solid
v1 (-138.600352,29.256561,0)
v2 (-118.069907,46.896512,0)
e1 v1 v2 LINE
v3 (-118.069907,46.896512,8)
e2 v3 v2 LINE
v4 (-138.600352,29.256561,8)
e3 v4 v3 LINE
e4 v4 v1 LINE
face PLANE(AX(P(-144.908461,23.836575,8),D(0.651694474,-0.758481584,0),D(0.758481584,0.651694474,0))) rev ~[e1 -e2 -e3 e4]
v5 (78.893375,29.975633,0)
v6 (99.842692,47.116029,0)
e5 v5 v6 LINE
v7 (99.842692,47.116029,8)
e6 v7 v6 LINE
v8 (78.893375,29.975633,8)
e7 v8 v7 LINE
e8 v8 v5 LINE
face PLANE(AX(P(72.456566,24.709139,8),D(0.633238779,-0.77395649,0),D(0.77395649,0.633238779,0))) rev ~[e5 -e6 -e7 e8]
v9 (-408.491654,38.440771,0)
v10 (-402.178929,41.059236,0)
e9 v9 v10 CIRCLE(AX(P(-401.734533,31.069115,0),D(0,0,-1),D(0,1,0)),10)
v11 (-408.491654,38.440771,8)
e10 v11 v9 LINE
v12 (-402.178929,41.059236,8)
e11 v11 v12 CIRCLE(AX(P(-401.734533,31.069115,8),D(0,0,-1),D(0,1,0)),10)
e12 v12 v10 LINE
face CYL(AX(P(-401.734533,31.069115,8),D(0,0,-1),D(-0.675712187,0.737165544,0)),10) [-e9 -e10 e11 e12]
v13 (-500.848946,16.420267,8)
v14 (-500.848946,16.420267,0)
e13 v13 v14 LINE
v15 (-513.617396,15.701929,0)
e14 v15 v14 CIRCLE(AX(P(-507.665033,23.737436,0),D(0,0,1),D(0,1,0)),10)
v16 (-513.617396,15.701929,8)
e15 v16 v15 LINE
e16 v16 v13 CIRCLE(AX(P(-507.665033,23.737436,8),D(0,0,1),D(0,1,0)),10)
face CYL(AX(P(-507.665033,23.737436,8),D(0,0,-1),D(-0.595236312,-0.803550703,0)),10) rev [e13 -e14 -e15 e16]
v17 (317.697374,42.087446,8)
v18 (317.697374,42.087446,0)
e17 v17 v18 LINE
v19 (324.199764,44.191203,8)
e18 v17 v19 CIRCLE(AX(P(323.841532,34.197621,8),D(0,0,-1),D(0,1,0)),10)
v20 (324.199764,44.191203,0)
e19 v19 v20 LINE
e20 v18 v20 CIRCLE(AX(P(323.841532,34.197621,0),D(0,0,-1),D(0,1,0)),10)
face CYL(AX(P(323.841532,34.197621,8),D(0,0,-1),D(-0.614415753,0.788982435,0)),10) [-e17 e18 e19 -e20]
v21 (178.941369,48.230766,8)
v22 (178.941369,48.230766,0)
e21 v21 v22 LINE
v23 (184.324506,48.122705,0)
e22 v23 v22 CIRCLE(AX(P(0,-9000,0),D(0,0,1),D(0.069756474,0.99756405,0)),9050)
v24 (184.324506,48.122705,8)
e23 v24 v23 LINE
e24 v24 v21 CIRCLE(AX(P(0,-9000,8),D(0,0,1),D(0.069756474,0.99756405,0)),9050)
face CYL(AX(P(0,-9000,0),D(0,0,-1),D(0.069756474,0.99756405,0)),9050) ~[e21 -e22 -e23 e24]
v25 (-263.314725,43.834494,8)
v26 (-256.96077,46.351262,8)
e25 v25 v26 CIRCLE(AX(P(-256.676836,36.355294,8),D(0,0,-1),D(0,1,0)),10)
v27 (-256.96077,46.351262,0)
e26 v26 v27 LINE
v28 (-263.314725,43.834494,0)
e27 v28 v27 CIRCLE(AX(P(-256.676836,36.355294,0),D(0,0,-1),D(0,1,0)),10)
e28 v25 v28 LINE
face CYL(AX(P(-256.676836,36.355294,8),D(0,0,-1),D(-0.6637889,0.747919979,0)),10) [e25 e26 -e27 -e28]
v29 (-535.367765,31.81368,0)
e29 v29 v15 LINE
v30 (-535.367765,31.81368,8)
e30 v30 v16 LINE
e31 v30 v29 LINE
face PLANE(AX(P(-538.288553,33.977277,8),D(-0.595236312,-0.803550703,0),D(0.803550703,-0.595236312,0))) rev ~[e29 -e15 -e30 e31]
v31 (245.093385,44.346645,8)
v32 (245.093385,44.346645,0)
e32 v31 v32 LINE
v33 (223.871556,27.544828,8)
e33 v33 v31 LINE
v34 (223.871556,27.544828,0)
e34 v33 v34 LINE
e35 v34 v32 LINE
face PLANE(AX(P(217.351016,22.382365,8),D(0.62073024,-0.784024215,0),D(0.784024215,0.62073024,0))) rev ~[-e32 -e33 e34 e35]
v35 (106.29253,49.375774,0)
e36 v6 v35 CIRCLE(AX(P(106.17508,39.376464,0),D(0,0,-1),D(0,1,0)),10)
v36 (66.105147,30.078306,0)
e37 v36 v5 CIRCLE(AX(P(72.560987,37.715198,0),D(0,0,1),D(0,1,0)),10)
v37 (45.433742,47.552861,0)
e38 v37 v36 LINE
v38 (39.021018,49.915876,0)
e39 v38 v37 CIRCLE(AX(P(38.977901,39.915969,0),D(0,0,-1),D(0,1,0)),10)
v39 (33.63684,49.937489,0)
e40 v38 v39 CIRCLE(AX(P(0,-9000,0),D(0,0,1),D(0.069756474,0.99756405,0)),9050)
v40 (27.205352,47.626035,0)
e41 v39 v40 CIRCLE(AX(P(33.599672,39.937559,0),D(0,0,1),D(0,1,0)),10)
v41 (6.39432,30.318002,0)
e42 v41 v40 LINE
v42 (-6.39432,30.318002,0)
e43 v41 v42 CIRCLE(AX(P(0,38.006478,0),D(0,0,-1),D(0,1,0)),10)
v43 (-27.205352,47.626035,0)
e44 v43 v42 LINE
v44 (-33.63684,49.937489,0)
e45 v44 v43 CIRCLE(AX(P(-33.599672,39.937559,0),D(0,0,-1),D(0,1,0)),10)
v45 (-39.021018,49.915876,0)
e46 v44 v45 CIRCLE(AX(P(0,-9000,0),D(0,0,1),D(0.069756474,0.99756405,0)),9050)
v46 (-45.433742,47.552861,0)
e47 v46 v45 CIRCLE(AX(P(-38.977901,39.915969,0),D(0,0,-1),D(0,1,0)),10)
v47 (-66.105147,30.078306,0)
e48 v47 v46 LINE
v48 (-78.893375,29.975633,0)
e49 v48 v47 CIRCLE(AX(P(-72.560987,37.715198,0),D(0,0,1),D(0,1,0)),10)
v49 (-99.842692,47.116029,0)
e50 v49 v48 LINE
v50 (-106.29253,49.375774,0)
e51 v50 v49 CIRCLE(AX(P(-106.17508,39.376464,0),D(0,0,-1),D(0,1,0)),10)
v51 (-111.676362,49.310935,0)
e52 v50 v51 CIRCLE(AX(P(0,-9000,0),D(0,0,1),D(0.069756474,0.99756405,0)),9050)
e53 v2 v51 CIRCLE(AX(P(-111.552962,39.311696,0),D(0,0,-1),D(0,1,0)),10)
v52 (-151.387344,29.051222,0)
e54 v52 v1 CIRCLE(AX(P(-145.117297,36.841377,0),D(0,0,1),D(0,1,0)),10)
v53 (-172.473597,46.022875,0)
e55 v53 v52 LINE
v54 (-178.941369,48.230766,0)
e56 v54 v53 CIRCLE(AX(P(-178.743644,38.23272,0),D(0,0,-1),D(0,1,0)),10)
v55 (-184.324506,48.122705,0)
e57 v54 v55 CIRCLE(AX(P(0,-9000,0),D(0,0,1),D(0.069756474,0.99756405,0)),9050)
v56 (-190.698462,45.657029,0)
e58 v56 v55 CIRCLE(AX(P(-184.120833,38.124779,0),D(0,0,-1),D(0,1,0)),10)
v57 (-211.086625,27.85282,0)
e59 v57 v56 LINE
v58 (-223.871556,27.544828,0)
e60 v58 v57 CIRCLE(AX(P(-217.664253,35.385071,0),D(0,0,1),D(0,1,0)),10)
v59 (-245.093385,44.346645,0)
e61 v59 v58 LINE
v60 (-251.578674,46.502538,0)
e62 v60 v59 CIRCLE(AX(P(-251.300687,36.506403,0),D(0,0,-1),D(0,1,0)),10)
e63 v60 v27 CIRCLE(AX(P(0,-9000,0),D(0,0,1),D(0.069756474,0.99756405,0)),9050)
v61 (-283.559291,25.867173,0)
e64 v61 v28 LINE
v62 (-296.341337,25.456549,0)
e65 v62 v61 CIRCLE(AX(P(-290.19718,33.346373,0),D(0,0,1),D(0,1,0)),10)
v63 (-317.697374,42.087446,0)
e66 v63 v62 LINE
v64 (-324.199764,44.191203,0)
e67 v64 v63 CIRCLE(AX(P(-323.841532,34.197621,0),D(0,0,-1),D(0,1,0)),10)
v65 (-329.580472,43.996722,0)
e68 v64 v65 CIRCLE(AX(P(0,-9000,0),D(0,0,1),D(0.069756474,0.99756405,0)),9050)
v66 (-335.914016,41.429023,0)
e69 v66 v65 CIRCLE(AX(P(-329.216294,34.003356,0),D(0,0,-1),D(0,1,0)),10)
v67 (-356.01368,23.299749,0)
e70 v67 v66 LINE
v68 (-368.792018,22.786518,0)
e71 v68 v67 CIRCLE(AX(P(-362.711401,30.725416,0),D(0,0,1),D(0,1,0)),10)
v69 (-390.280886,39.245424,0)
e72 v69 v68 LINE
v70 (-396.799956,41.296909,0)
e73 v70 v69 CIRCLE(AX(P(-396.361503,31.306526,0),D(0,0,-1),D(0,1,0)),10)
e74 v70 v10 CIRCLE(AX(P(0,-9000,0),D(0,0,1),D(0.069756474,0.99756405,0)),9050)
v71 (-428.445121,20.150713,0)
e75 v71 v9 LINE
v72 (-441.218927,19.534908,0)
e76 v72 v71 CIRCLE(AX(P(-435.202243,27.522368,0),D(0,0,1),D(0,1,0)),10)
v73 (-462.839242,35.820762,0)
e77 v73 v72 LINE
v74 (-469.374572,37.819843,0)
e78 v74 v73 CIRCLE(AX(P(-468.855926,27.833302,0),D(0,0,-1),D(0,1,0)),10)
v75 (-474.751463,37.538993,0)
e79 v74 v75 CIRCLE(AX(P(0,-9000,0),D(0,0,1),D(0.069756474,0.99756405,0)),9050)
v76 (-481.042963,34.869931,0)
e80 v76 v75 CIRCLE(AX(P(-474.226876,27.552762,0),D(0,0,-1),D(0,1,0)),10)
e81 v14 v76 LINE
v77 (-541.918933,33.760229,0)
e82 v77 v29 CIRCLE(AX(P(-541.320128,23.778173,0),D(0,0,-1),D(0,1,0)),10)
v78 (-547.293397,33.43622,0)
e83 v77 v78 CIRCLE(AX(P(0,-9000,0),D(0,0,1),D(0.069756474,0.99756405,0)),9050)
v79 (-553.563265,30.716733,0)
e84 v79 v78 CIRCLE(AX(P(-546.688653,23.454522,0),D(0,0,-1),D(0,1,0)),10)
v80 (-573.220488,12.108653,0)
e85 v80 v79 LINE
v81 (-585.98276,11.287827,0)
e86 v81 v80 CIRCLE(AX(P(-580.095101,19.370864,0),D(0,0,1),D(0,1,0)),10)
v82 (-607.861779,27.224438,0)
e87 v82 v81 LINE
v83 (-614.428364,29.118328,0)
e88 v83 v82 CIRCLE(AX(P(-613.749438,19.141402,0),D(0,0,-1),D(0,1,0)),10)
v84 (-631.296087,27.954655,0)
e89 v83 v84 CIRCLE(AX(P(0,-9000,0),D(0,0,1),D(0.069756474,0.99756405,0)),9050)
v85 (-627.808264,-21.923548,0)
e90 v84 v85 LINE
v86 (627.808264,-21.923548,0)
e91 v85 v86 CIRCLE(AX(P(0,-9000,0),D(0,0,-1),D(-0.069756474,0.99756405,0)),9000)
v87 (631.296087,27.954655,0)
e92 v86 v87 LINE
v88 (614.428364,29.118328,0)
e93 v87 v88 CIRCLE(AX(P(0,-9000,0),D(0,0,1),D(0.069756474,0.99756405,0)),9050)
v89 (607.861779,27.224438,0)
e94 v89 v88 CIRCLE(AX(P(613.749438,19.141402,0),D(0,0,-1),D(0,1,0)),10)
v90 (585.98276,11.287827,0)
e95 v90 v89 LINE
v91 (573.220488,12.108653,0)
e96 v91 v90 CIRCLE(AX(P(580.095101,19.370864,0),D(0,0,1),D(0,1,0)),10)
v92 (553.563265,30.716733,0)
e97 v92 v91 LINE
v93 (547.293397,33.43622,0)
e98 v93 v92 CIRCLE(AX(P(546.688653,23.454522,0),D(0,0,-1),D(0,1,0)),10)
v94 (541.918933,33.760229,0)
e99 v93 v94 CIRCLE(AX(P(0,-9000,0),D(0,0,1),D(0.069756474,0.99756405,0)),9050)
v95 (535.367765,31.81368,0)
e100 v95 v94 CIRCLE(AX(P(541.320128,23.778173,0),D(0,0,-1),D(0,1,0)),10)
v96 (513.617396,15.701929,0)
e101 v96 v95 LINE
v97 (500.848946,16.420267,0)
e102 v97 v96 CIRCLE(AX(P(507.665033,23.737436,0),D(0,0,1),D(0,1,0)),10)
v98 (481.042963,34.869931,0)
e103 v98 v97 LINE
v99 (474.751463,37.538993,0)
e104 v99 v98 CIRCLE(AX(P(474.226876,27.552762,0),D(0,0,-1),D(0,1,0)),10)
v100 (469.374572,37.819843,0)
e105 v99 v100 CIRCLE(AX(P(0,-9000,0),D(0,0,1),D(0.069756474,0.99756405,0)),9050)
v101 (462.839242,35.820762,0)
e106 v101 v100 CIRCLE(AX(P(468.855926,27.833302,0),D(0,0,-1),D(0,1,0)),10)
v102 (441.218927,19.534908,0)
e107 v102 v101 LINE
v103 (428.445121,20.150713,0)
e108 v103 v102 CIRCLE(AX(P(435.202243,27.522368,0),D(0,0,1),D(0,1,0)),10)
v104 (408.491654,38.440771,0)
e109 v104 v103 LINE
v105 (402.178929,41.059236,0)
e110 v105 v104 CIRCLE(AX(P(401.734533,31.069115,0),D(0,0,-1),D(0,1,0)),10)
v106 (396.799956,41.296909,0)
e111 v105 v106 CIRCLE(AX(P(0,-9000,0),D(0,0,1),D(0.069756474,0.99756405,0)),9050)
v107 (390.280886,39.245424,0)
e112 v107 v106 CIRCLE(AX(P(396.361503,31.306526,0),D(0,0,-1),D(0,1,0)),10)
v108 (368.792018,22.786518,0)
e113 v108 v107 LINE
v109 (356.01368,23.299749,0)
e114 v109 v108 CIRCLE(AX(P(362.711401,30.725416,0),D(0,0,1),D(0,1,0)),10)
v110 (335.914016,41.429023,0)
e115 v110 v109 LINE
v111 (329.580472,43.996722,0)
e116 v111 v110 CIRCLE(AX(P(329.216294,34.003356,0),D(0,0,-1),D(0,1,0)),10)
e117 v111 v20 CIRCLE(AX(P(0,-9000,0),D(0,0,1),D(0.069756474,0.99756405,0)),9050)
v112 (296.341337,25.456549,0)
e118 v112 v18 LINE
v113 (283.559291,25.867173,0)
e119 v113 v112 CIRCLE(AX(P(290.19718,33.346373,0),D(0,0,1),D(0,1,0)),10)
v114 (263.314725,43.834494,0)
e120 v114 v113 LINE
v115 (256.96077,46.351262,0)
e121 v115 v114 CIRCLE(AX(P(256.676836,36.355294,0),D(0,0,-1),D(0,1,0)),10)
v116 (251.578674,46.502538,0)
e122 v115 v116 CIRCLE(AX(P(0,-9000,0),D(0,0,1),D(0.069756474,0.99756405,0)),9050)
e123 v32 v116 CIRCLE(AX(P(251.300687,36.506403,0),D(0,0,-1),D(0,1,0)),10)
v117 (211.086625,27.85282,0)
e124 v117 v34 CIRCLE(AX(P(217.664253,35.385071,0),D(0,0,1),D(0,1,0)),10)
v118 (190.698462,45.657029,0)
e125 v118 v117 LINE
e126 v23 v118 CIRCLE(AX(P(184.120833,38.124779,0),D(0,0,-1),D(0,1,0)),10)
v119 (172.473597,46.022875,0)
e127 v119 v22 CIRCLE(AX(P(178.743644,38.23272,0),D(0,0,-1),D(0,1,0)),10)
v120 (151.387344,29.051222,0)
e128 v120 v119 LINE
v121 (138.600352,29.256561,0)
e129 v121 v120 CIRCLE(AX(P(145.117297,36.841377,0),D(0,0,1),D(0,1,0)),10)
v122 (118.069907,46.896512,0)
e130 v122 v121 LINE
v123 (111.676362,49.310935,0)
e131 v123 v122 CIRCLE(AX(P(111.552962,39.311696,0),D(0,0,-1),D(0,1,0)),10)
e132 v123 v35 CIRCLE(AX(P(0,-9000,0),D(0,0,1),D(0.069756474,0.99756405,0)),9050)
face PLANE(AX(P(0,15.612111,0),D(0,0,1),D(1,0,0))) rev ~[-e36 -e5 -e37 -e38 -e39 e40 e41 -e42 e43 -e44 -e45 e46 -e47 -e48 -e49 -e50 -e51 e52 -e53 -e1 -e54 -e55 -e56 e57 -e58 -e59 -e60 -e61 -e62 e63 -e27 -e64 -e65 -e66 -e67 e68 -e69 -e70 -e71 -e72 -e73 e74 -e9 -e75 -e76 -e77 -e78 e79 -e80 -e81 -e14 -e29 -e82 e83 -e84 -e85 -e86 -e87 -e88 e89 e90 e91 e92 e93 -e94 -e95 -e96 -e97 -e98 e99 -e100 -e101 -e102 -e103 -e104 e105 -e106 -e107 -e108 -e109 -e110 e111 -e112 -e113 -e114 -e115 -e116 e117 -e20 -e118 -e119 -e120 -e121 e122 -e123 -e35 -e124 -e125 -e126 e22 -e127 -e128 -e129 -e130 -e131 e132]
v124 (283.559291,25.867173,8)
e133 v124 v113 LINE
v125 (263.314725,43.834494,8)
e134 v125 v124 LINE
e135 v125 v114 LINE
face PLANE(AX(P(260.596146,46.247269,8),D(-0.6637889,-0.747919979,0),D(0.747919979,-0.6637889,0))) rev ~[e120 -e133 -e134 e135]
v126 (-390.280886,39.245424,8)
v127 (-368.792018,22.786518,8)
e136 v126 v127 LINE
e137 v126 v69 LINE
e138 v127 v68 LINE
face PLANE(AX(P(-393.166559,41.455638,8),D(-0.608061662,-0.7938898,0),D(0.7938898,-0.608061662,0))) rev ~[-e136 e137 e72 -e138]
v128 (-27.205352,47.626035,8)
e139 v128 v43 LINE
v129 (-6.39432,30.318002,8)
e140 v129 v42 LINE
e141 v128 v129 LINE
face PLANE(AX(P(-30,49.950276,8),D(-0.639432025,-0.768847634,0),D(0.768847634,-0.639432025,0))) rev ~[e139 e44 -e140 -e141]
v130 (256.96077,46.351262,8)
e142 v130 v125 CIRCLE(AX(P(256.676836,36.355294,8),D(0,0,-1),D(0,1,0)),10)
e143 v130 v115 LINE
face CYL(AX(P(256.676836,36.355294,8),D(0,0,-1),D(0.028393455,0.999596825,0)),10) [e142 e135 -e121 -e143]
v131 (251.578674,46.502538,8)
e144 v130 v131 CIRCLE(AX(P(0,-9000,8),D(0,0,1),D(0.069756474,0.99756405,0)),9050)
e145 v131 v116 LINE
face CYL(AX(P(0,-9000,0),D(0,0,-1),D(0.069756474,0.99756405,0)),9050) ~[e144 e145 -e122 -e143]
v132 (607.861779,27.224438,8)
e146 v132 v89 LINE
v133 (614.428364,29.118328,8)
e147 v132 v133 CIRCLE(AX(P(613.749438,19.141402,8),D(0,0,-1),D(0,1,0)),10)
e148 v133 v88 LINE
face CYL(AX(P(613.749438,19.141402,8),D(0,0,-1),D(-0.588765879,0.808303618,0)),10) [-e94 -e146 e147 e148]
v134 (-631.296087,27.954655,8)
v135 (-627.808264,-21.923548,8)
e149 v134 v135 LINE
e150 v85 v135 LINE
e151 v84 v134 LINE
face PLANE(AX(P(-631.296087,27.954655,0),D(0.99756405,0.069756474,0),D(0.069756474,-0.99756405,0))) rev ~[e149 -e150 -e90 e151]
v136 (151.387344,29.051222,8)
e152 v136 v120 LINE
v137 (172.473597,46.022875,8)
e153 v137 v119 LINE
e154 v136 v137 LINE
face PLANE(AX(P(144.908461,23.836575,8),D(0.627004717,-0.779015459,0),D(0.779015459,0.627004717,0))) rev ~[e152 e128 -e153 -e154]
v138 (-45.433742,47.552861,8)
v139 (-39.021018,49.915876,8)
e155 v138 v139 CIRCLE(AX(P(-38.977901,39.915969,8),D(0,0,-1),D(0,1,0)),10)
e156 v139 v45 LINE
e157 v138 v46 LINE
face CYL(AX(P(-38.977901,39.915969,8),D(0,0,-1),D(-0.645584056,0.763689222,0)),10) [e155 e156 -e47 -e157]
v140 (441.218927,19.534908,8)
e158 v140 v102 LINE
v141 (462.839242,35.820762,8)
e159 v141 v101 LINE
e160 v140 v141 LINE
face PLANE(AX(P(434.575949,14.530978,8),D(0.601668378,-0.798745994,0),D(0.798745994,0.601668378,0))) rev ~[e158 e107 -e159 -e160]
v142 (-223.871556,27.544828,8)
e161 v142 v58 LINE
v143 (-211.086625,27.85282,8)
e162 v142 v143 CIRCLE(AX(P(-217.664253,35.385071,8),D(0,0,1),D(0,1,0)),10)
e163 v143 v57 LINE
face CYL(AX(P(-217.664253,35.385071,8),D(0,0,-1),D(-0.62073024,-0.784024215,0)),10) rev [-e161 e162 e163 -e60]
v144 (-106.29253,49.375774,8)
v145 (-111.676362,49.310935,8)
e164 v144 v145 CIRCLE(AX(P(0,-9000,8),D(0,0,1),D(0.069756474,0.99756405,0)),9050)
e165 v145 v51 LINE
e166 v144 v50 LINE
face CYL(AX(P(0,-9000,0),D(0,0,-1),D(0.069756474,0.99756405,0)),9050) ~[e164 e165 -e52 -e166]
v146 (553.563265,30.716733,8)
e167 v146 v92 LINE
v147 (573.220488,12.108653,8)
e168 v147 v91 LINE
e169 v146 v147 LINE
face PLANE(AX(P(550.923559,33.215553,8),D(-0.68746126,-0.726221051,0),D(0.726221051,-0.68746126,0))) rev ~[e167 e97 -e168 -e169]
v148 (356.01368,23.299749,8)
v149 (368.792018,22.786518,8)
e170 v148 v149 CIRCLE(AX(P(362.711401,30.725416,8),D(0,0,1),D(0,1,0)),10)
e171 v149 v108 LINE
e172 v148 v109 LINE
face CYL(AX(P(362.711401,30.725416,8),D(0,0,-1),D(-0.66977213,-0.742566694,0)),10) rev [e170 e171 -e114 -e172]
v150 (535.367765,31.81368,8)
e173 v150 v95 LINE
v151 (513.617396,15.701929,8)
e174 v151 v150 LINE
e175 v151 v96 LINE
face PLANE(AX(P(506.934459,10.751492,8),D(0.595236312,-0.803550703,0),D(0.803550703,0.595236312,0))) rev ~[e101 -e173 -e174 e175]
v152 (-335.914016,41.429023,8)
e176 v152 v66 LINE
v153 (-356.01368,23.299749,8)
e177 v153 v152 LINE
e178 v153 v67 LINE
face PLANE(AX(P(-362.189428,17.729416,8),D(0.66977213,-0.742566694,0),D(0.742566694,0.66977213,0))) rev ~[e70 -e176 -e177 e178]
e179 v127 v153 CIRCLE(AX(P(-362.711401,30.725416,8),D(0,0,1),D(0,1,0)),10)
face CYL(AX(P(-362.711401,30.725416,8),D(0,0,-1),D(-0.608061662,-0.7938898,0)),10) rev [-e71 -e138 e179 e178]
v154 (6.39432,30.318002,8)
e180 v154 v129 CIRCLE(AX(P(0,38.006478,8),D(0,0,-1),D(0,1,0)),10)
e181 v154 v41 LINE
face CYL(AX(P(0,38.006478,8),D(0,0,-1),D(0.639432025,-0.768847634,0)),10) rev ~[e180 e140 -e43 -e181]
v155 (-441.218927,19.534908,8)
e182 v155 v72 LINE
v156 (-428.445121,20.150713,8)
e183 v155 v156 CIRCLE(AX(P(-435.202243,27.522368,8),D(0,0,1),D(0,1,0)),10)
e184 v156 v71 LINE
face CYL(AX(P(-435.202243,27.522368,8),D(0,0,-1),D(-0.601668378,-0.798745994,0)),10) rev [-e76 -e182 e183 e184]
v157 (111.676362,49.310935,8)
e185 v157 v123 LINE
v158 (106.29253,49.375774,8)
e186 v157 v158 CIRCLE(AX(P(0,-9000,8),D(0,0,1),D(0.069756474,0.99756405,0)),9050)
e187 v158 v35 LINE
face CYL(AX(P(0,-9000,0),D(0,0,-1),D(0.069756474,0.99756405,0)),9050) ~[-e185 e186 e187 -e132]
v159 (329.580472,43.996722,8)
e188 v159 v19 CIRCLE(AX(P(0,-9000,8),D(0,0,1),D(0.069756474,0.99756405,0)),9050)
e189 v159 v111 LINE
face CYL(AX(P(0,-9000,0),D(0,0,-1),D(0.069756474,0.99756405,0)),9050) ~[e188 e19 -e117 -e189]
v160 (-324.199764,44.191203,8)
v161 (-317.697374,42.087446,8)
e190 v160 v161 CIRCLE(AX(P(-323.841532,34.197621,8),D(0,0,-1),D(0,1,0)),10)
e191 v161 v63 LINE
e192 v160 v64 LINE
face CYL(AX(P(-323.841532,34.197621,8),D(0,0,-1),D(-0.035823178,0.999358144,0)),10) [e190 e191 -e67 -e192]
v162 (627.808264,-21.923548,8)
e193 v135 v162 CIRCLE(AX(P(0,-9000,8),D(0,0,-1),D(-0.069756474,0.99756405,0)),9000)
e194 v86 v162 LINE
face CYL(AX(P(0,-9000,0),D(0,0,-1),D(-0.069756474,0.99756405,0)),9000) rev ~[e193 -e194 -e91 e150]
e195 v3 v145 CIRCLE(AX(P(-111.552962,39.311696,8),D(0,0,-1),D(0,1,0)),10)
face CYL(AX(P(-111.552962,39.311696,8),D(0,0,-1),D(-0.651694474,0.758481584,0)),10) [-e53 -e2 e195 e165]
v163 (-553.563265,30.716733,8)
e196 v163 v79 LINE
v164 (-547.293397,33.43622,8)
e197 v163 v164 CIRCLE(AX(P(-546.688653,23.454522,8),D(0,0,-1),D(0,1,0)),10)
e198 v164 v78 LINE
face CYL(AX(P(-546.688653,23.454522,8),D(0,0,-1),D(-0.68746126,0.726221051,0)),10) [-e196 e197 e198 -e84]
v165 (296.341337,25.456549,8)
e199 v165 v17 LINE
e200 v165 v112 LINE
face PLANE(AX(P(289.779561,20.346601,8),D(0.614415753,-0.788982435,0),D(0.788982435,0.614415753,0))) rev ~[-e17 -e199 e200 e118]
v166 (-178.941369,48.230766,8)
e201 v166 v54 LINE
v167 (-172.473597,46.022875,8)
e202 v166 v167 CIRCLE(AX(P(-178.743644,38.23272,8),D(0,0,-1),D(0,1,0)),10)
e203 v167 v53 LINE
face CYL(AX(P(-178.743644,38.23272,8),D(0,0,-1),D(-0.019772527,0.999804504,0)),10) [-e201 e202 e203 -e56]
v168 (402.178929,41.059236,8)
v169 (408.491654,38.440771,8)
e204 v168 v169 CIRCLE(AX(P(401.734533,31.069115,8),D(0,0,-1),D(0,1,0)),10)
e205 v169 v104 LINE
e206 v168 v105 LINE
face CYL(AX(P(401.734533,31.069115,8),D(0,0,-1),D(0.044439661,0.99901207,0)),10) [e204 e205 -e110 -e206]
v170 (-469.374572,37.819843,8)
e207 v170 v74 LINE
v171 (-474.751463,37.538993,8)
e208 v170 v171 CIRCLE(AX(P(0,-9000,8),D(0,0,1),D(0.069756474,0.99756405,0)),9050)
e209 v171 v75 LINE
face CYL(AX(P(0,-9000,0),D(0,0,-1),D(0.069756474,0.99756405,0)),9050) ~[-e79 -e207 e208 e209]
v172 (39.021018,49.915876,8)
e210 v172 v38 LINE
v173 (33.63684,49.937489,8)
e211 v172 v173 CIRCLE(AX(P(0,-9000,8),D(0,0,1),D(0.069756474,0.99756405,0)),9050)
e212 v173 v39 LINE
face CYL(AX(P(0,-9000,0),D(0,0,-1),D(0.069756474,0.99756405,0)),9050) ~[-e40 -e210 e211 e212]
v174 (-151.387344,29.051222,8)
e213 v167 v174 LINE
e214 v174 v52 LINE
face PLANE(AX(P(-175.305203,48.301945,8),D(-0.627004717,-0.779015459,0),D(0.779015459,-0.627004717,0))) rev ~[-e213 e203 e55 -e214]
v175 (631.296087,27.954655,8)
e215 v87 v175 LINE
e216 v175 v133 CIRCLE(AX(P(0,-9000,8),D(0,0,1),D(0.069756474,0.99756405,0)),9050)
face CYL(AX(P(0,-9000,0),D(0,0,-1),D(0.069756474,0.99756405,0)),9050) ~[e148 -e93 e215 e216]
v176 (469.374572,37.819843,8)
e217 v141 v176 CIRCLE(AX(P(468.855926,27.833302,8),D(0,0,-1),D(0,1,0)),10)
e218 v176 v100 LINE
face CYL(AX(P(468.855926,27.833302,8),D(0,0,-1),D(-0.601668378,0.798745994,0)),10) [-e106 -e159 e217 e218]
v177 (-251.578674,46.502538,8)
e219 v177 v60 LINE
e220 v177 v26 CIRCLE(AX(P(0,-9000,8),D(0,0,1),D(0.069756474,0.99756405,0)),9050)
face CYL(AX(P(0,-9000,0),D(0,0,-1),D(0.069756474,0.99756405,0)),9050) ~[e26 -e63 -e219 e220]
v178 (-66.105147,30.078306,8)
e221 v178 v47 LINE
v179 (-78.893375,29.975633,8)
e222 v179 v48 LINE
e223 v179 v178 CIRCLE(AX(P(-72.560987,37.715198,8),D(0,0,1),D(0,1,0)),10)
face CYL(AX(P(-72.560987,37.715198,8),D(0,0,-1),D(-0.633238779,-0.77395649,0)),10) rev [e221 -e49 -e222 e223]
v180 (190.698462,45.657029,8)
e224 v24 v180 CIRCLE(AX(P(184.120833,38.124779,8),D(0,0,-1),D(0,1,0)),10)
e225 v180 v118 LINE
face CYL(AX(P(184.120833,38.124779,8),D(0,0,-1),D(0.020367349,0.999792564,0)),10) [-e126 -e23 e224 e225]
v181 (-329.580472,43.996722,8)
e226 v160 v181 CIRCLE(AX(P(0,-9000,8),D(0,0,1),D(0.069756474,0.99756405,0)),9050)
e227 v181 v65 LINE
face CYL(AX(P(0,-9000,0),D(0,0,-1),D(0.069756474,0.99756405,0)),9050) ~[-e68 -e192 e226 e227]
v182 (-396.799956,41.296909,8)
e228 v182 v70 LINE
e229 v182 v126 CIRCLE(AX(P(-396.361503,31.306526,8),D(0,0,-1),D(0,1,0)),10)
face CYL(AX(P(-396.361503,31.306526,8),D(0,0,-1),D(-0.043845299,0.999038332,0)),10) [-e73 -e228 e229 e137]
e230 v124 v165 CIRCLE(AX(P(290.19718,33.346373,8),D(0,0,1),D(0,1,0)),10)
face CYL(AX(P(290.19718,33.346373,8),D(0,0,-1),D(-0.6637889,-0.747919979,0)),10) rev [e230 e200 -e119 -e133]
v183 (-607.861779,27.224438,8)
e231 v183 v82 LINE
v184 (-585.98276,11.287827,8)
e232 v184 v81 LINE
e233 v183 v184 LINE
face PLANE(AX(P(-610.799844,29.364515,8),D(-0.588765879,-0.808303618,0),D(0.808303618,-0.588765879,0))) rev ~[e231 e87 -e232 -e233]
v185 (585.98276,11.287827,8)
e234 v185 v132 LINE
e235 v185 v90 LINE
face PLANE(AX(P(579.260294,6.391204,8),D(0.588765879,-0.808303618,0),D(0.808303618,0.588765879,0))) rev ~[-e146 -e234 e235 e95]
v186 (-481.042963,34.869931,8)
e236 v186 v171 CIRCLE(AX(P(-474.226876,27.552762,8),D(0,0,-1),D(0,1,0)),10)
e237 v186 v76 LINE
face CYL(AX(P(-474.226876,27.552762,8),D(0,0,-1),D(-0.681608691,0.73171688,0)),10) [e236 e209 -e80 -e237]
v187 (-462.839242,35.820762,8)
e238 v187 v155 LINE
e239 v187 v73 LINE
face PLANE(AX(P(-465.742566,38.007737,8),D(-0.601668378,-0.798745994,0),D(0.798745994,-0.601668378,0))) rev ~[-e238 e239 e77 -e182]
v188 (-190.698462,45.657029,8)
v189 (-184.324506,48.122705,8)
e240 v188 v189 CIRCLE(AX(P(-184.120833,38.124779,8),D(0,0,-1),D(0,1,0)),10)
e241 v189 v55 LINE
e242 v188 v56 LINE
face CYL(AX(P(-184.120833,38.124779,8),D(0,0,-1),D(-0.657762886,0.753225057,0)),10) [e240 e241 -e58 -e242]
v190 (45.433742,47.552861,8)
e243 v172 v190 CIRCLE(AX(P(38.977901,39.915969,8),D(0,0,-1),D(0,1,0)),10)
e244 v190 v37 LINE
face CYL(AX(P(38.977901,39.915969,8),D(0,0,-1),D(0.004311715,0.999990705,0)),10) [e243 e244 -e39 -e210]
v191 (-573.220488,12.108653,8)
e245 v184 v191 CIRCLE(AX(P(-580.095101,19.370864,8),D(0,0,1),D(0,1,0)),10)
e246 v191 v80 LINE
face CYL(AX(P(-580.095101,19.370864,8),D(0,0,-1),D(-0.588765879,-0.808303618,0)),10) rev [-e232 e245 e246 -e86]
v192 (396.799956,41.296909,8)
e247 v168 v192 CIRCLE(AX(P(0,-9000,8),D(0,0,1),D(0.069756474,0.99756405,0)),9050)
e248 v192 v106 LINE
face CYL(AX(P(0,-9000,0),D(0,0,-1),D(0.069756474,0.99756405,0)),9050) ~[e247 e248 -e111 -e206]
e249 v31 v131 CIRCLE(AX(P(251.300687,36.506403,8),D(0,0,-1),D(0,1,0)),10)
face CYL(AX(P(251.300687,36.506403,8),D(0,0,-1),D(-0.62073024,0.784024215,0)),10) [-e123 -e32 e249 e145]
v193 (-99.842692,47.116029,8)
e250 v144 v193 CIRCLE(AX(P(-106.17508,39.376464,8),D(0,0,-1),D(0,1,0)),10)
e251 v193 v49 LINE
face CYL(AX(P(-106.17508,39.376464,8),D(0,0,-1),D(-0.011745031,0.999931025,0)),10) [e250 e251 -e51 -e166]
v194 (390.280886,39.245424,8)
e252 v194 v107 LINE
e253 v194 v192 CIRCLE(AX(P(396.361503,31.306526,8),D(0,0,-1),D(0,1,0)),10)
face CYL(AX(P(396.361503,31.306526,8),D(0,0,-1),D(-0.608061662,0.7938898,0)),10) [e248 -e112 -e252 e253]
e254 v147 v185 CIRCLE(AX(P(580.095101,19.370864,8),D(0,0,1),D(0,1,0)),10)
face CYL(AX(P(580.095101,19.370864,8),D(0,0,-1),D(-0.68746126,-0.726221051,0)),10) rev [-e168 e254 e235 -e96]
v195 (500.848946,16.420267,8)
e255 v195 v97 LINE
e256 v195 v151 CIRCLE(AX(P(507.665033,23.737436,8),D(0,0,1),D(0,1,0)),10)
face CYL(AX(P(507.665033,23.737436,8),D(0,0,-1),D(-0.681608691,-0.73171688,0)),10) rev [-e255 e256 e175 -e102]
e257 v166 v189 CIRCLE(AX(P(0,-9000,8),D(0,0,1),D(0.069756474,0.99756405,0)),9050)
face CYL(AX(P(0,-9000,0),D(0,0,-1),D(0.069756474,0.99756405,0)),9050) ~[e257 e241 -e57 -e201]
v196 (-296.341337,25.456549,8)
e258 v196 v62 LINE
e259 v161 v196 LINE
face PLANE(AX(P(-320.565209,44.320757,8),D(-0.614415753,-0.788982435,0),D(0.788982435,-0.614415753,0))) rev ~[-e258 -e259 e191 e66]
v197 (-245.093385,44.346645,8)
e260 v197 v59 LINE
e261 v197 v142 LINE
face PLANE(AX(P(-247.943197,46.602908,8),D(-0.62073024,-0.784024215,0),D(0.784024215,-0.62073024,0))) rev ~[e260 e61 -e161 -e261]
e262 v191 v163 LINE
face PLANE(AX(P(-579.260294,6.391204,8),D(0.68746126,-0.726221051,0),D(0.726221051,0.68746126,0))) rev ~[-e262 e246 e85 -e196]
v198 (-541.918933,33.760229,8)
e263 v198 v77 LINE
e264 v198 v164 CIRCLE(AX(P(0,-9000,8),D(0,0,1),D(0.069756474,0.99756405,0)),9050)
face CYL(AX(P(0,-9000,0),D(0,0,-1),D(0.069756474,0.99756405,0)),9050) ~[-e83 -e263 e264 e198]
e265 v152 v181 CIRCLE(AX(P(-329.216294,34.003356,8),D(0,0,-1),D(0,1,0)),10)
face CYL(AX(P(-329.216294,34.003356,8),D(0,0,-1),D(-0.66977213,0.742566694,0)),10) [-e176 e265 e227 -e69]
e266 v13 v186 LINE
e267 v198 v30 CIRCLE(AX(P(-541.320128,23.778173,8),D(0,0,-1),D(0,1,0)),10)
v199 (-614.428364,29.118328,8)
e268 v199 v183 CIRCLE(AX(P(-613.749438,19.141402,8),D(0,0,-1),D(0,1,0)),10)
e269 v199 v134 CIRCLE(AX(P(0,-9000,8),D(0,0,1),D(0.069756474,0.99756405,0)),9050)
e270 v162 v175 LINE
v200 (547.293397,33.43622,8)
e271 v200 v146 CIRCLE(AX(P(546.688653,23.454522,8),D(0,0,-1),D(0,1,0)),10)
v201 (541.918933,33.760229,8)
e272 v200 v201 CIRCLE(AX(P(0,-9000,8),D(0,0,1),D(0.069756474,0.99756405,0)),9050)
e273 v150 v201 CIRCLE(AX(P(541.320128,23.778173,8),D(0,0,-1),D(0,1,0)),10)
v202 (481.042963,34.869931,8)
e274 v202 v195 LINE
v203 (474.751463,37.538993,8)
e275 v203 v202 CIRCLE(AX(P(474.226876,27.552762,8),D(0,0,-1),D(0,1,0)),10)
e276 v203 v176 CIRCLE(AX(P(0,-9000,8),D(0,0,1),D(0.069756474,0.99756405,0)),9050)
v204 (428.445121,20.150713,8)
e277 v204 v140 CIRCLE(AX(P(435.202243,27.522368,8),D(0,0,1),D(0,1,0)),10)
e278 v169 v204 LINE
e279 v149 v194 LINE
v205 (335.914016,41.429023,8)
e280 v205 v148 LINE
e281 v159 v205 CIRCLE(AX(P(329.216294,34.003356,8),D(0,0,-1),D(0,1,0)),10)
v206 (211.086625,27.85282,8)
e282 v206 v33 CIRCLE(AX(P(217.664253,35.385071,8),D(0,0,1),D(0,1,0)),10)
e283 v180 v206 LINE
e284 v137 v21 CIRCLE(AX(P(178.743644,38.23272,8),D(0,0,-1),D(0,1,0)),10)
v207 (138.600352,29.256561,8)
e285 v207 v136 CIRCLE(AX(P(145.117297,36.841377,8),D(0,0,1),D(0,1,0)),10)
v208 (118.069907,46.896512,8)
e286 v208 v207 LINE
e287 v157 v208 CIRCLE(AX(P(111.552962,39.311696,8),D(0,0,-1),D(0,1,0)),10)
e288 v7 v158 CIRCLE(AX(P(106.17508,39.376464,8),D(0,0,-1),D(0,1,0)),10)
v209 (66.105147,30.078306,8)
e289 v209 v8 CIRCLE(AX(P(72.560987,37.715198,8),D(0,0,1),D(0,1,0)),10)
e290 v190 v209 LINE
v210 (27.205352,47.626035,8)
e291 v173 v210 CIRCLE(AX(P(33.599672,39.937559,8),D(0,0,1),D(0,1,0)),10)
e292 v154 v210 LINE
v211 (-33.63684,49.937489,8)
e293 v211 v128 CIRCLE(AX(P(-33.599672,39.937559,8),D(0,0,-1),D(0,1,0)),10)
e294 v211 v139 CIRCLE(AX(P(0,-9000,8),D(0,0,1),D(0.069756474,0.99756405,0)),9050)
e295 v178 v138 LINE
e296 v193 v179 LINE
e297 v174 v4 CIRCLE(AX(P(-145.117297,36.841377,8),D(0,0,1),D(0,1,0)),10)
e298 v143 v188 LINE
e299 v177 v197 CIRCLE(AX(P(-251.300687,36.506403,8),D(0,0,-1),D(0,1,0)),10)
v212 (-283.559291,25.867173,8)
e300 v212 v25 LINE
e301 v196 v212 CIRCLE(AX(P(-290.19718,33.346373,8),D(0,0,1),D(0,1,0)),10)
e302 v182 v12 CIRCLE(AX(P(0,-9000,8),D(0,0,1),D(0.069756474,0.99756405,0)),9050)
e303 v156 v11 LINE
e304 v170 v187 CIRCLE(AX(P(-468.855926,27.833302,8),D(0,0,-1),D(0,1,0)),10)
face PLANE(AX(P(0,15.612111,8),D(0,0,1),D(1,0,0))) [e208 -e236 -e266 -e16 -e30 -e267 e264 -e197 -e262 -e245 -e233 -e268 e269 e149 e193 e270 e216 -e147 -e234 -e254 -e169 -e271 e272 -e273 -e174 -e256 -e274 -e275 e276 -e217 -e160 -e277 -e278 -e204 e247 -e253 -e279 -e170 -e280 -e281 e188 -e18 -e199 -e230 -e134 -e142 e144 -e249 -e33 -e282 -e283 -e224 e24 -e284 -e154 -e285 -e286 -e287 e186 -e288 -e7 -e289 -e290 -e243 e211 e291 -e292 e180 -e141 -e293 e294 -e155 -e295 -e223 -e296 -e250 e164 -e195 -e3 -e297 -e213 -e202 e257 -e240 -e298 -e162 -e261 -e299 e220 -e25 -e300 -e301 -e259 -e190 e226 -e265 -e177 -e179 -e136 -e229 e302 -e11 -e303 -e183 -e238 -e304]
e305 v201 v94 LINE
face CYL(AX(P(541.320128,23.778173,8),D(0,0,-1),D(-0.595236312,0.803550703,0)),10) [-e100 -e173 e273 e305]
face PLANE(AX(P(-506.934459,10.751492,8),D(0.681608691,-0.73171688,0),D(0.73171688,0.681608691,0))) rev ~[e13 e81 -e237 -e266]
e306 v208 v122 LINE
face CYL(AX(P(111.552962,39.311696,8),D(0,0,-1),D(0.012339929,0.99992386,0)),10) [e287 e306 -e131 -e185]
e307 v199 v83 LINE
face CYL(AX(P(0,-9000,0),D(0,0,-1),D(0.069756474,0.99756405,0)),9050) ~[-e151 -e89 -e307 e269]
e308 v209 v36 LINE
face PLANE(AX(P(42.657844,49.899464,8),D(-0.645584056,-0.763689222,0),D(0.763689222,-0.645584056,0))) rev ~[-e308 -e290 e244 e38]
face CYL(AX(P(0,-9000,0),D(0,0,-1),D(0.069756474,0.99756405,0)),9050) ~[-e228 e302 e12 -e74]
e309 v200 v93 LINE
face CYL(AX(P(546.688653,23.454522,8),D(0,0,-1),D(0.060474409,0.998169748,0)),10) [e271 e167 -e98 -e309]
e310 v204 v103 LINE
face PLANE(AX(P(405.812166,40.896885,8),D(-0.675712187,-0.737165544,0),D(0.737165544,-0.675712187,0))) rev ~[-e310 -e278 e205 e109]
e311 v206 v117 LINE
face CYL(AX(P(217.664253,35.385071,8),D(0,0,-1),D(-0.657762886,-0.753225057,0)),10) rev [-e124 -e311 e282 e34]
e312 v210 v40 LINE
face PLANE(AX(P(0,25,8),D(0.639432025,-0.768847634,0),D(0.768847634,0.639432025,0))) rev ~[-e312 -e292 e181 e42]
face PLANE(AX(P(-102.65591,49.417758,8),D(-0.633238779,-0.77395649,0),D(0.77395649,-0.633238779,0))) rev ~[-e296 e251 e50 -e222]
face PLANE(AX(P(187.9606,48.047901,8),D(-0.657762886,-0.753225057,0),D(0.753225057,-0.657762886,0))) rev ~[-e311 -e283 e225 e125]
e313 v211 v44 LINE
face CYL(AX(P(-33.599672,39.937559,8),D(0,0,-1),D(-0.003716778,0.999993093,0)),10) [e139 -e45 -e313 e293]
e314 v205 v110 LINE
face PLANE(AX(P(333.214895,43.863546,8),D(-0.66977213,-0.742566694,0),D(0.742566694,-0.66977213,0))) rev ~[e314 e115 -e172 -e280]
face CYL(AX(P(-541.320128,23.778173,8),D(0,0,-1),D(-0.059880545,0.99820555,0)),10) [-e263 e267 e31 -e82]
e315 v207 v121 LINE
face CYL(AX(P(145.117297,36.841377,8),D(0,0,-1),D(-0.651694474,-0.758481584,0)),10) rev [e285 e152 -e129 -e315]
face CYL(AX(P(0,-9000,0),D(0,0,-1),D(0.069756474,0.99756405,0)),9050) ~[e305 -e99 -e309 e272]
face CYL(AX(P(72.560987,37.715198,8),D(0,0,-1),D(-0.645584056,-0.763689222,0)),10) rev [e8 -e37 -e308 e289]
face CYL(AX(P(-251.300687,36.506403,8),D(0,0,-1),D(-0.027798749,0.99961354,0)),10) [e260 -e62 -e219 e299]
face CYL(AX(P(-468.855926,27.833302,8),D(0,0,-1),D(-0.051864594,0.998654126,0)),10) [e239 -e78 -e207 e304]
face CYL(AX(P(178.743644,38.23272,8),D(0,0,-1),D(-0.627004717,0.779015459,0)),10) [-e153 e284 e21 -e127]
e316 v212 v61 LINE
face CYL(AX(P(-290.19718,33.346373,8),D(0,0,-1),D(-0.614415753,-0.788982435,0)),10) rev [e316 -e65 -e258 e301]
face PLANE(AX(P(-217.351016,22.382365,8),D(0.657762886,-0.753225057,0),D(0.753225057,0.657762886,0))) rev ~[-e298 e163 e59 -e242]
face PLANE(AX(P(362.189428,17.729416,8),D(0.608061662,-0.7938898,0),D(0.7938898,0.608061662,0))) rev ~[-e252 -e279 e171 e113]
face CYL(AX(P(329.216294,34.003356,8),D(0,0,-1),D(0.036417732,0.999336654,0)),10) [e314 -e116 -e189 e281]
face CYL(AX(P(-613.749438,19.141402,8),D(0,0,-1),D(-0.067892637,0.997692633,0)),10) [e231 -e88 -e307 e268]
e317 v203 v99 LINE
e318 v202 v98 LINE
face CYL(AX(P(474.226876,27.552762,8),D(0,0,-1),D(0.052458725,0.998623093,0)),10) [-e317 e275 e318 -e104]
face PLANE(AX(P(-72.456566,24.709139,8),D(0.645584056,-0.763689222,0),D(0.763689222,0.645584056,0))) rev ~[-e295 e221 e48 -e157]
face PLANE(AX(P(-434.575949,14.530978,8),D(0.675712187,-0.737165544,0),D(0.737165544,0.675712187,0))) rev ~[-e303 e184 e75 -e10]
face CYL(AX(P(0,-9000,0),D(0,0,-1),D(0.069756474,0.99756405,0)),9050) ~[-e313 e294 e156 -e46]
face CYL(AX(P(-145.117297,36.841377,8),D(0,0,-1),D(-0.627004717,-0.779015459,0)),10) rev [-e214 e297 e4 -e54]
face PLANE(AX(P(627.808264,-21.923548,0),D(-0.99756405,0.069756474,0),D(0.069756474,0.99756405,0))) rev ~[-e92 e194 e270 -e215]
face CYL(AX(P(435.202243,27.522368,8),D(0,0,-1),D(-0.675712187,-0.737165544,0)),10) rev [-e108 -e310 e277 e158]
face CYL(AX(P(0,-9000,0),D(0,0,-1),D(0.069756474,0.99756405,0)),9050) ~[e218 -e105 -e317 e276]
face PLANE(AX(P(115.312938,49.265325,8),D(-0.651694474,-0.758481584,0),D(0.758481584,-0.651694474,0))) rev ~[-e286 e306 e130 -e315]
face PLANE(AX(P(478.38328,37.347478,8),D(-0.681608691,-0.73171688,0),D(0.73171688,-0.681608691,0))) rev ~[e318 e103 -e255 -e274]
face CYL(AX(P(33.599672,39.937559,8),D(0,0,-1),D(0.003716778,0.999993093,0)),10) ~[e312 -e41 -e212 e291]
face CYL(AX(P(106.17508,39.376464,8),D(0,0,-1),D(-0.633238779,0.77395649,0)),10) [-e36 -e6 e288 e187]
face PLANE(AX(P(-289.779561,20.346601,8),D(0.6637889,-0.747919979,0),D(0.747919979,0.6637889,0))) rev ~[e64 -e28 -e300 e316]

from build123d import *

# Parameters (mm, degrees)
BOSS_EXTRU_2_DEPTH                 = 8
ENL_V_MAT_EXTRU_1_DEPTH            = 9
CONG_1_R                           = 10
R_P_TITION_CIRCULAIRE1_COUNT       = 9
R_P_TITION_CIRCULAIRE1_ANGLE       = 3.68
CONG_1_OF_R_P_TITION_CIRCULAIRE1_R = 10
R_P_TITION_CIRCULAIRE2_COUNT       = 9
R_P_TITION_CIRCULAIRE2_ANGLE       = 3.68
CONG_1_OF_R_P_TITION_CIRCULAIRE2_R = 10


with BuildPart() as part:
    # Esquisse1 → Boss.-Extru.2 (new body)
    with BuildSketch(Plane.XY):
        with BuildLine():
            Line((627.808263697, -21.923547662), (631.296087384, 27.954654851))
            ThreePointArc((631.296087384, 27.954654851), (0, 50), (-631.296087384, 27.954654851))
            Line((-631.296087384, 27.954654851), (-627.808263697, -21.923547662))
            ThreePointArc((-627.808263697, -21.923547662), (0, 0), (627.808263697, -21.923547662))
        make_face()
    extrude(amount=BOSS_EXTRU_2_DEPTH)

    # Esquisse2 → Enlèv. mat.-Extru.1 (cut, through all)
    with BuildSketch(Plane.XY.offset(8)):
        Polygon((0, 25), (30, 49.950276106), (0, 74.995327729), (-30, 49.950276106), align=None)
    enl_v_mat_extru_1 = extrude(amount=-ENL_V_MAT_EXTRU_1_DEPTH, mode=Mode.SUBTRACT)

    # Congé1
    cong_1_edges = [part.edges().sort_by_distance(p)[0] for p in [
        (0, 25, 4),
        (-30, 49.950276106, 4),
        (30, 49.950276106, 4),
    ]]
    fillet(cong_1_edges, radius=CONG_1_R)

    # Répétition circulaire1: Enlèv. mat.-Extru.1 ×9 about axis
    r_p_tition_circulaire1_axis = Axis((0, -9000, 0), (0, 0, 1))
    for i in range(1, R_P_TITION_CIRCULAIRE1_COUNT):
        add(enl_v_mat_extru_1.rotate(r_p_tition_circulaire1_axis, i * R_P_TITION_CIRCULAIRE1_ANGLE / (R_P_TITION_CIRCULAIRE1_COUNT - 1)), mode=Mode.SUBTRACT)

    # Congé1 of Répétition circulaire1
    cong_1_of_r_p_tition_circulaire1_edges = [part.edges().sort_by_distance(p)[0] for p in [
        (-72.456565501, 24.709139142, 4),
        (-102.655910154, 49.417758293, 4),
        (-42.657843855, 49.899463992, 4),
        (-144.908460692, 23.836575317, 4),
        (-175.305203447, 48.301944876, 4),
        (-115.312938126, 49.265325224, 4),
        (-217.351015561, 22.382364766, 4),
        (-247.943197144, 46.602907776, 4),
        (-187.960599706, 48.047900678, 4),
        (-289.779560701, 20.346601223, 4),
        (-320.565209242, 44.320756509, 4),
        (-260.596145965, 46.247268824, 4),
        (-362.189427606, 17.729415908, 4),
        (-393.166558764, 41.455638174, 4),
        (-333.214895057, 43.863545726, 4),
        (-434.575948977, 14.530977515, 4),
        (-465.742566067, 38.007737447, 4),
        (-405.812166217, 40.89688503, 4),
        (-506.934459016, 10.751492204, 4),
        (-538.288553142, 33.977276569, 4),
        (-478.383280064, 37.347477958, 4),
        (-579.260293733, 6.39120359, 4),
        (-610.799843913, 29.364515329, 4),
        (-550.923558903, 33.215553293, 4),
    ]]
    fillet(cong_1_of_r_p_tition_circulaire1_edges, radius=CONG_1_OF_R_P_TITION_CIRCULAIRE1_R)

    # Répétition circulaire2: Enlèv. mat.-Extru.1 ×9 about axis
    r_p_tition_circulaire2_axis = Axis((0, -9000, 0), (0, 0, -1))
    for i in range(1, R_P_TITION_CIRCULAIRE2_COUNT):
        add(enl_v_mat_extru_1.rotate(r_p_tition_circulaire2_axis, i * R_P_TITION_CIRCULAIRE2_ANGLE / (R_P_TITION_CIRCULAIRE2_COUNT - 1)), mode=Mode.SUBTRACT)

    # Congé1 of Répétition circulaire2
    cong_1_of_r_p_tition_circulaire2_edges = [part.edges().sort_by_distance(p)[0] for p in [
        (72.456565501, 24.709139142, 4),
        (42.657843855, 49.899463992, 4),
        (102.655910154, 49.417758293, 4),
        (144.908460692, 23.836575317, 4),
        (115.312938126, 49.265325224, 4),
        (175.305203447, 48.301944876, 4),
        (217.351015561, 22.382364766, 4),
        (187.960599706, 48.047900678, 4),
        (247.943197144, 46.602907776, 4),
        (289.779560701, 20.346601223, 4),
        (260.596145965, 46.247268824, 4),
        (320.565209242, 44.320756509, 4),
        (362.189427606, 17.729415908, 4),
        (333.214895057, 43.863545726, 4),
        (393.166558764, 41.455638174, 4),
        (434.575948977, 14.530977515, 4),
        (405.812166217, 40.89688503, 4),
        (465.742566067, 38.007737447, 4),
        (506.934459016, 10.751492204, 4),
        (478.383280064, 37.347477958, 4),
        (538.288553142, 33.977276569, 4),
        (579.260293733, 6.39120359, 4),
        (550.923558903, 33.215553293, 4),
        (610.799843913, 29.364515329, 4),
    ]]
    fillet(cong_1_of_r_p_tition_circulaire2_edges, radius=CONG_1_OF_R_P_TITION_CIRCULAIRE2_R)


solid = part.part
